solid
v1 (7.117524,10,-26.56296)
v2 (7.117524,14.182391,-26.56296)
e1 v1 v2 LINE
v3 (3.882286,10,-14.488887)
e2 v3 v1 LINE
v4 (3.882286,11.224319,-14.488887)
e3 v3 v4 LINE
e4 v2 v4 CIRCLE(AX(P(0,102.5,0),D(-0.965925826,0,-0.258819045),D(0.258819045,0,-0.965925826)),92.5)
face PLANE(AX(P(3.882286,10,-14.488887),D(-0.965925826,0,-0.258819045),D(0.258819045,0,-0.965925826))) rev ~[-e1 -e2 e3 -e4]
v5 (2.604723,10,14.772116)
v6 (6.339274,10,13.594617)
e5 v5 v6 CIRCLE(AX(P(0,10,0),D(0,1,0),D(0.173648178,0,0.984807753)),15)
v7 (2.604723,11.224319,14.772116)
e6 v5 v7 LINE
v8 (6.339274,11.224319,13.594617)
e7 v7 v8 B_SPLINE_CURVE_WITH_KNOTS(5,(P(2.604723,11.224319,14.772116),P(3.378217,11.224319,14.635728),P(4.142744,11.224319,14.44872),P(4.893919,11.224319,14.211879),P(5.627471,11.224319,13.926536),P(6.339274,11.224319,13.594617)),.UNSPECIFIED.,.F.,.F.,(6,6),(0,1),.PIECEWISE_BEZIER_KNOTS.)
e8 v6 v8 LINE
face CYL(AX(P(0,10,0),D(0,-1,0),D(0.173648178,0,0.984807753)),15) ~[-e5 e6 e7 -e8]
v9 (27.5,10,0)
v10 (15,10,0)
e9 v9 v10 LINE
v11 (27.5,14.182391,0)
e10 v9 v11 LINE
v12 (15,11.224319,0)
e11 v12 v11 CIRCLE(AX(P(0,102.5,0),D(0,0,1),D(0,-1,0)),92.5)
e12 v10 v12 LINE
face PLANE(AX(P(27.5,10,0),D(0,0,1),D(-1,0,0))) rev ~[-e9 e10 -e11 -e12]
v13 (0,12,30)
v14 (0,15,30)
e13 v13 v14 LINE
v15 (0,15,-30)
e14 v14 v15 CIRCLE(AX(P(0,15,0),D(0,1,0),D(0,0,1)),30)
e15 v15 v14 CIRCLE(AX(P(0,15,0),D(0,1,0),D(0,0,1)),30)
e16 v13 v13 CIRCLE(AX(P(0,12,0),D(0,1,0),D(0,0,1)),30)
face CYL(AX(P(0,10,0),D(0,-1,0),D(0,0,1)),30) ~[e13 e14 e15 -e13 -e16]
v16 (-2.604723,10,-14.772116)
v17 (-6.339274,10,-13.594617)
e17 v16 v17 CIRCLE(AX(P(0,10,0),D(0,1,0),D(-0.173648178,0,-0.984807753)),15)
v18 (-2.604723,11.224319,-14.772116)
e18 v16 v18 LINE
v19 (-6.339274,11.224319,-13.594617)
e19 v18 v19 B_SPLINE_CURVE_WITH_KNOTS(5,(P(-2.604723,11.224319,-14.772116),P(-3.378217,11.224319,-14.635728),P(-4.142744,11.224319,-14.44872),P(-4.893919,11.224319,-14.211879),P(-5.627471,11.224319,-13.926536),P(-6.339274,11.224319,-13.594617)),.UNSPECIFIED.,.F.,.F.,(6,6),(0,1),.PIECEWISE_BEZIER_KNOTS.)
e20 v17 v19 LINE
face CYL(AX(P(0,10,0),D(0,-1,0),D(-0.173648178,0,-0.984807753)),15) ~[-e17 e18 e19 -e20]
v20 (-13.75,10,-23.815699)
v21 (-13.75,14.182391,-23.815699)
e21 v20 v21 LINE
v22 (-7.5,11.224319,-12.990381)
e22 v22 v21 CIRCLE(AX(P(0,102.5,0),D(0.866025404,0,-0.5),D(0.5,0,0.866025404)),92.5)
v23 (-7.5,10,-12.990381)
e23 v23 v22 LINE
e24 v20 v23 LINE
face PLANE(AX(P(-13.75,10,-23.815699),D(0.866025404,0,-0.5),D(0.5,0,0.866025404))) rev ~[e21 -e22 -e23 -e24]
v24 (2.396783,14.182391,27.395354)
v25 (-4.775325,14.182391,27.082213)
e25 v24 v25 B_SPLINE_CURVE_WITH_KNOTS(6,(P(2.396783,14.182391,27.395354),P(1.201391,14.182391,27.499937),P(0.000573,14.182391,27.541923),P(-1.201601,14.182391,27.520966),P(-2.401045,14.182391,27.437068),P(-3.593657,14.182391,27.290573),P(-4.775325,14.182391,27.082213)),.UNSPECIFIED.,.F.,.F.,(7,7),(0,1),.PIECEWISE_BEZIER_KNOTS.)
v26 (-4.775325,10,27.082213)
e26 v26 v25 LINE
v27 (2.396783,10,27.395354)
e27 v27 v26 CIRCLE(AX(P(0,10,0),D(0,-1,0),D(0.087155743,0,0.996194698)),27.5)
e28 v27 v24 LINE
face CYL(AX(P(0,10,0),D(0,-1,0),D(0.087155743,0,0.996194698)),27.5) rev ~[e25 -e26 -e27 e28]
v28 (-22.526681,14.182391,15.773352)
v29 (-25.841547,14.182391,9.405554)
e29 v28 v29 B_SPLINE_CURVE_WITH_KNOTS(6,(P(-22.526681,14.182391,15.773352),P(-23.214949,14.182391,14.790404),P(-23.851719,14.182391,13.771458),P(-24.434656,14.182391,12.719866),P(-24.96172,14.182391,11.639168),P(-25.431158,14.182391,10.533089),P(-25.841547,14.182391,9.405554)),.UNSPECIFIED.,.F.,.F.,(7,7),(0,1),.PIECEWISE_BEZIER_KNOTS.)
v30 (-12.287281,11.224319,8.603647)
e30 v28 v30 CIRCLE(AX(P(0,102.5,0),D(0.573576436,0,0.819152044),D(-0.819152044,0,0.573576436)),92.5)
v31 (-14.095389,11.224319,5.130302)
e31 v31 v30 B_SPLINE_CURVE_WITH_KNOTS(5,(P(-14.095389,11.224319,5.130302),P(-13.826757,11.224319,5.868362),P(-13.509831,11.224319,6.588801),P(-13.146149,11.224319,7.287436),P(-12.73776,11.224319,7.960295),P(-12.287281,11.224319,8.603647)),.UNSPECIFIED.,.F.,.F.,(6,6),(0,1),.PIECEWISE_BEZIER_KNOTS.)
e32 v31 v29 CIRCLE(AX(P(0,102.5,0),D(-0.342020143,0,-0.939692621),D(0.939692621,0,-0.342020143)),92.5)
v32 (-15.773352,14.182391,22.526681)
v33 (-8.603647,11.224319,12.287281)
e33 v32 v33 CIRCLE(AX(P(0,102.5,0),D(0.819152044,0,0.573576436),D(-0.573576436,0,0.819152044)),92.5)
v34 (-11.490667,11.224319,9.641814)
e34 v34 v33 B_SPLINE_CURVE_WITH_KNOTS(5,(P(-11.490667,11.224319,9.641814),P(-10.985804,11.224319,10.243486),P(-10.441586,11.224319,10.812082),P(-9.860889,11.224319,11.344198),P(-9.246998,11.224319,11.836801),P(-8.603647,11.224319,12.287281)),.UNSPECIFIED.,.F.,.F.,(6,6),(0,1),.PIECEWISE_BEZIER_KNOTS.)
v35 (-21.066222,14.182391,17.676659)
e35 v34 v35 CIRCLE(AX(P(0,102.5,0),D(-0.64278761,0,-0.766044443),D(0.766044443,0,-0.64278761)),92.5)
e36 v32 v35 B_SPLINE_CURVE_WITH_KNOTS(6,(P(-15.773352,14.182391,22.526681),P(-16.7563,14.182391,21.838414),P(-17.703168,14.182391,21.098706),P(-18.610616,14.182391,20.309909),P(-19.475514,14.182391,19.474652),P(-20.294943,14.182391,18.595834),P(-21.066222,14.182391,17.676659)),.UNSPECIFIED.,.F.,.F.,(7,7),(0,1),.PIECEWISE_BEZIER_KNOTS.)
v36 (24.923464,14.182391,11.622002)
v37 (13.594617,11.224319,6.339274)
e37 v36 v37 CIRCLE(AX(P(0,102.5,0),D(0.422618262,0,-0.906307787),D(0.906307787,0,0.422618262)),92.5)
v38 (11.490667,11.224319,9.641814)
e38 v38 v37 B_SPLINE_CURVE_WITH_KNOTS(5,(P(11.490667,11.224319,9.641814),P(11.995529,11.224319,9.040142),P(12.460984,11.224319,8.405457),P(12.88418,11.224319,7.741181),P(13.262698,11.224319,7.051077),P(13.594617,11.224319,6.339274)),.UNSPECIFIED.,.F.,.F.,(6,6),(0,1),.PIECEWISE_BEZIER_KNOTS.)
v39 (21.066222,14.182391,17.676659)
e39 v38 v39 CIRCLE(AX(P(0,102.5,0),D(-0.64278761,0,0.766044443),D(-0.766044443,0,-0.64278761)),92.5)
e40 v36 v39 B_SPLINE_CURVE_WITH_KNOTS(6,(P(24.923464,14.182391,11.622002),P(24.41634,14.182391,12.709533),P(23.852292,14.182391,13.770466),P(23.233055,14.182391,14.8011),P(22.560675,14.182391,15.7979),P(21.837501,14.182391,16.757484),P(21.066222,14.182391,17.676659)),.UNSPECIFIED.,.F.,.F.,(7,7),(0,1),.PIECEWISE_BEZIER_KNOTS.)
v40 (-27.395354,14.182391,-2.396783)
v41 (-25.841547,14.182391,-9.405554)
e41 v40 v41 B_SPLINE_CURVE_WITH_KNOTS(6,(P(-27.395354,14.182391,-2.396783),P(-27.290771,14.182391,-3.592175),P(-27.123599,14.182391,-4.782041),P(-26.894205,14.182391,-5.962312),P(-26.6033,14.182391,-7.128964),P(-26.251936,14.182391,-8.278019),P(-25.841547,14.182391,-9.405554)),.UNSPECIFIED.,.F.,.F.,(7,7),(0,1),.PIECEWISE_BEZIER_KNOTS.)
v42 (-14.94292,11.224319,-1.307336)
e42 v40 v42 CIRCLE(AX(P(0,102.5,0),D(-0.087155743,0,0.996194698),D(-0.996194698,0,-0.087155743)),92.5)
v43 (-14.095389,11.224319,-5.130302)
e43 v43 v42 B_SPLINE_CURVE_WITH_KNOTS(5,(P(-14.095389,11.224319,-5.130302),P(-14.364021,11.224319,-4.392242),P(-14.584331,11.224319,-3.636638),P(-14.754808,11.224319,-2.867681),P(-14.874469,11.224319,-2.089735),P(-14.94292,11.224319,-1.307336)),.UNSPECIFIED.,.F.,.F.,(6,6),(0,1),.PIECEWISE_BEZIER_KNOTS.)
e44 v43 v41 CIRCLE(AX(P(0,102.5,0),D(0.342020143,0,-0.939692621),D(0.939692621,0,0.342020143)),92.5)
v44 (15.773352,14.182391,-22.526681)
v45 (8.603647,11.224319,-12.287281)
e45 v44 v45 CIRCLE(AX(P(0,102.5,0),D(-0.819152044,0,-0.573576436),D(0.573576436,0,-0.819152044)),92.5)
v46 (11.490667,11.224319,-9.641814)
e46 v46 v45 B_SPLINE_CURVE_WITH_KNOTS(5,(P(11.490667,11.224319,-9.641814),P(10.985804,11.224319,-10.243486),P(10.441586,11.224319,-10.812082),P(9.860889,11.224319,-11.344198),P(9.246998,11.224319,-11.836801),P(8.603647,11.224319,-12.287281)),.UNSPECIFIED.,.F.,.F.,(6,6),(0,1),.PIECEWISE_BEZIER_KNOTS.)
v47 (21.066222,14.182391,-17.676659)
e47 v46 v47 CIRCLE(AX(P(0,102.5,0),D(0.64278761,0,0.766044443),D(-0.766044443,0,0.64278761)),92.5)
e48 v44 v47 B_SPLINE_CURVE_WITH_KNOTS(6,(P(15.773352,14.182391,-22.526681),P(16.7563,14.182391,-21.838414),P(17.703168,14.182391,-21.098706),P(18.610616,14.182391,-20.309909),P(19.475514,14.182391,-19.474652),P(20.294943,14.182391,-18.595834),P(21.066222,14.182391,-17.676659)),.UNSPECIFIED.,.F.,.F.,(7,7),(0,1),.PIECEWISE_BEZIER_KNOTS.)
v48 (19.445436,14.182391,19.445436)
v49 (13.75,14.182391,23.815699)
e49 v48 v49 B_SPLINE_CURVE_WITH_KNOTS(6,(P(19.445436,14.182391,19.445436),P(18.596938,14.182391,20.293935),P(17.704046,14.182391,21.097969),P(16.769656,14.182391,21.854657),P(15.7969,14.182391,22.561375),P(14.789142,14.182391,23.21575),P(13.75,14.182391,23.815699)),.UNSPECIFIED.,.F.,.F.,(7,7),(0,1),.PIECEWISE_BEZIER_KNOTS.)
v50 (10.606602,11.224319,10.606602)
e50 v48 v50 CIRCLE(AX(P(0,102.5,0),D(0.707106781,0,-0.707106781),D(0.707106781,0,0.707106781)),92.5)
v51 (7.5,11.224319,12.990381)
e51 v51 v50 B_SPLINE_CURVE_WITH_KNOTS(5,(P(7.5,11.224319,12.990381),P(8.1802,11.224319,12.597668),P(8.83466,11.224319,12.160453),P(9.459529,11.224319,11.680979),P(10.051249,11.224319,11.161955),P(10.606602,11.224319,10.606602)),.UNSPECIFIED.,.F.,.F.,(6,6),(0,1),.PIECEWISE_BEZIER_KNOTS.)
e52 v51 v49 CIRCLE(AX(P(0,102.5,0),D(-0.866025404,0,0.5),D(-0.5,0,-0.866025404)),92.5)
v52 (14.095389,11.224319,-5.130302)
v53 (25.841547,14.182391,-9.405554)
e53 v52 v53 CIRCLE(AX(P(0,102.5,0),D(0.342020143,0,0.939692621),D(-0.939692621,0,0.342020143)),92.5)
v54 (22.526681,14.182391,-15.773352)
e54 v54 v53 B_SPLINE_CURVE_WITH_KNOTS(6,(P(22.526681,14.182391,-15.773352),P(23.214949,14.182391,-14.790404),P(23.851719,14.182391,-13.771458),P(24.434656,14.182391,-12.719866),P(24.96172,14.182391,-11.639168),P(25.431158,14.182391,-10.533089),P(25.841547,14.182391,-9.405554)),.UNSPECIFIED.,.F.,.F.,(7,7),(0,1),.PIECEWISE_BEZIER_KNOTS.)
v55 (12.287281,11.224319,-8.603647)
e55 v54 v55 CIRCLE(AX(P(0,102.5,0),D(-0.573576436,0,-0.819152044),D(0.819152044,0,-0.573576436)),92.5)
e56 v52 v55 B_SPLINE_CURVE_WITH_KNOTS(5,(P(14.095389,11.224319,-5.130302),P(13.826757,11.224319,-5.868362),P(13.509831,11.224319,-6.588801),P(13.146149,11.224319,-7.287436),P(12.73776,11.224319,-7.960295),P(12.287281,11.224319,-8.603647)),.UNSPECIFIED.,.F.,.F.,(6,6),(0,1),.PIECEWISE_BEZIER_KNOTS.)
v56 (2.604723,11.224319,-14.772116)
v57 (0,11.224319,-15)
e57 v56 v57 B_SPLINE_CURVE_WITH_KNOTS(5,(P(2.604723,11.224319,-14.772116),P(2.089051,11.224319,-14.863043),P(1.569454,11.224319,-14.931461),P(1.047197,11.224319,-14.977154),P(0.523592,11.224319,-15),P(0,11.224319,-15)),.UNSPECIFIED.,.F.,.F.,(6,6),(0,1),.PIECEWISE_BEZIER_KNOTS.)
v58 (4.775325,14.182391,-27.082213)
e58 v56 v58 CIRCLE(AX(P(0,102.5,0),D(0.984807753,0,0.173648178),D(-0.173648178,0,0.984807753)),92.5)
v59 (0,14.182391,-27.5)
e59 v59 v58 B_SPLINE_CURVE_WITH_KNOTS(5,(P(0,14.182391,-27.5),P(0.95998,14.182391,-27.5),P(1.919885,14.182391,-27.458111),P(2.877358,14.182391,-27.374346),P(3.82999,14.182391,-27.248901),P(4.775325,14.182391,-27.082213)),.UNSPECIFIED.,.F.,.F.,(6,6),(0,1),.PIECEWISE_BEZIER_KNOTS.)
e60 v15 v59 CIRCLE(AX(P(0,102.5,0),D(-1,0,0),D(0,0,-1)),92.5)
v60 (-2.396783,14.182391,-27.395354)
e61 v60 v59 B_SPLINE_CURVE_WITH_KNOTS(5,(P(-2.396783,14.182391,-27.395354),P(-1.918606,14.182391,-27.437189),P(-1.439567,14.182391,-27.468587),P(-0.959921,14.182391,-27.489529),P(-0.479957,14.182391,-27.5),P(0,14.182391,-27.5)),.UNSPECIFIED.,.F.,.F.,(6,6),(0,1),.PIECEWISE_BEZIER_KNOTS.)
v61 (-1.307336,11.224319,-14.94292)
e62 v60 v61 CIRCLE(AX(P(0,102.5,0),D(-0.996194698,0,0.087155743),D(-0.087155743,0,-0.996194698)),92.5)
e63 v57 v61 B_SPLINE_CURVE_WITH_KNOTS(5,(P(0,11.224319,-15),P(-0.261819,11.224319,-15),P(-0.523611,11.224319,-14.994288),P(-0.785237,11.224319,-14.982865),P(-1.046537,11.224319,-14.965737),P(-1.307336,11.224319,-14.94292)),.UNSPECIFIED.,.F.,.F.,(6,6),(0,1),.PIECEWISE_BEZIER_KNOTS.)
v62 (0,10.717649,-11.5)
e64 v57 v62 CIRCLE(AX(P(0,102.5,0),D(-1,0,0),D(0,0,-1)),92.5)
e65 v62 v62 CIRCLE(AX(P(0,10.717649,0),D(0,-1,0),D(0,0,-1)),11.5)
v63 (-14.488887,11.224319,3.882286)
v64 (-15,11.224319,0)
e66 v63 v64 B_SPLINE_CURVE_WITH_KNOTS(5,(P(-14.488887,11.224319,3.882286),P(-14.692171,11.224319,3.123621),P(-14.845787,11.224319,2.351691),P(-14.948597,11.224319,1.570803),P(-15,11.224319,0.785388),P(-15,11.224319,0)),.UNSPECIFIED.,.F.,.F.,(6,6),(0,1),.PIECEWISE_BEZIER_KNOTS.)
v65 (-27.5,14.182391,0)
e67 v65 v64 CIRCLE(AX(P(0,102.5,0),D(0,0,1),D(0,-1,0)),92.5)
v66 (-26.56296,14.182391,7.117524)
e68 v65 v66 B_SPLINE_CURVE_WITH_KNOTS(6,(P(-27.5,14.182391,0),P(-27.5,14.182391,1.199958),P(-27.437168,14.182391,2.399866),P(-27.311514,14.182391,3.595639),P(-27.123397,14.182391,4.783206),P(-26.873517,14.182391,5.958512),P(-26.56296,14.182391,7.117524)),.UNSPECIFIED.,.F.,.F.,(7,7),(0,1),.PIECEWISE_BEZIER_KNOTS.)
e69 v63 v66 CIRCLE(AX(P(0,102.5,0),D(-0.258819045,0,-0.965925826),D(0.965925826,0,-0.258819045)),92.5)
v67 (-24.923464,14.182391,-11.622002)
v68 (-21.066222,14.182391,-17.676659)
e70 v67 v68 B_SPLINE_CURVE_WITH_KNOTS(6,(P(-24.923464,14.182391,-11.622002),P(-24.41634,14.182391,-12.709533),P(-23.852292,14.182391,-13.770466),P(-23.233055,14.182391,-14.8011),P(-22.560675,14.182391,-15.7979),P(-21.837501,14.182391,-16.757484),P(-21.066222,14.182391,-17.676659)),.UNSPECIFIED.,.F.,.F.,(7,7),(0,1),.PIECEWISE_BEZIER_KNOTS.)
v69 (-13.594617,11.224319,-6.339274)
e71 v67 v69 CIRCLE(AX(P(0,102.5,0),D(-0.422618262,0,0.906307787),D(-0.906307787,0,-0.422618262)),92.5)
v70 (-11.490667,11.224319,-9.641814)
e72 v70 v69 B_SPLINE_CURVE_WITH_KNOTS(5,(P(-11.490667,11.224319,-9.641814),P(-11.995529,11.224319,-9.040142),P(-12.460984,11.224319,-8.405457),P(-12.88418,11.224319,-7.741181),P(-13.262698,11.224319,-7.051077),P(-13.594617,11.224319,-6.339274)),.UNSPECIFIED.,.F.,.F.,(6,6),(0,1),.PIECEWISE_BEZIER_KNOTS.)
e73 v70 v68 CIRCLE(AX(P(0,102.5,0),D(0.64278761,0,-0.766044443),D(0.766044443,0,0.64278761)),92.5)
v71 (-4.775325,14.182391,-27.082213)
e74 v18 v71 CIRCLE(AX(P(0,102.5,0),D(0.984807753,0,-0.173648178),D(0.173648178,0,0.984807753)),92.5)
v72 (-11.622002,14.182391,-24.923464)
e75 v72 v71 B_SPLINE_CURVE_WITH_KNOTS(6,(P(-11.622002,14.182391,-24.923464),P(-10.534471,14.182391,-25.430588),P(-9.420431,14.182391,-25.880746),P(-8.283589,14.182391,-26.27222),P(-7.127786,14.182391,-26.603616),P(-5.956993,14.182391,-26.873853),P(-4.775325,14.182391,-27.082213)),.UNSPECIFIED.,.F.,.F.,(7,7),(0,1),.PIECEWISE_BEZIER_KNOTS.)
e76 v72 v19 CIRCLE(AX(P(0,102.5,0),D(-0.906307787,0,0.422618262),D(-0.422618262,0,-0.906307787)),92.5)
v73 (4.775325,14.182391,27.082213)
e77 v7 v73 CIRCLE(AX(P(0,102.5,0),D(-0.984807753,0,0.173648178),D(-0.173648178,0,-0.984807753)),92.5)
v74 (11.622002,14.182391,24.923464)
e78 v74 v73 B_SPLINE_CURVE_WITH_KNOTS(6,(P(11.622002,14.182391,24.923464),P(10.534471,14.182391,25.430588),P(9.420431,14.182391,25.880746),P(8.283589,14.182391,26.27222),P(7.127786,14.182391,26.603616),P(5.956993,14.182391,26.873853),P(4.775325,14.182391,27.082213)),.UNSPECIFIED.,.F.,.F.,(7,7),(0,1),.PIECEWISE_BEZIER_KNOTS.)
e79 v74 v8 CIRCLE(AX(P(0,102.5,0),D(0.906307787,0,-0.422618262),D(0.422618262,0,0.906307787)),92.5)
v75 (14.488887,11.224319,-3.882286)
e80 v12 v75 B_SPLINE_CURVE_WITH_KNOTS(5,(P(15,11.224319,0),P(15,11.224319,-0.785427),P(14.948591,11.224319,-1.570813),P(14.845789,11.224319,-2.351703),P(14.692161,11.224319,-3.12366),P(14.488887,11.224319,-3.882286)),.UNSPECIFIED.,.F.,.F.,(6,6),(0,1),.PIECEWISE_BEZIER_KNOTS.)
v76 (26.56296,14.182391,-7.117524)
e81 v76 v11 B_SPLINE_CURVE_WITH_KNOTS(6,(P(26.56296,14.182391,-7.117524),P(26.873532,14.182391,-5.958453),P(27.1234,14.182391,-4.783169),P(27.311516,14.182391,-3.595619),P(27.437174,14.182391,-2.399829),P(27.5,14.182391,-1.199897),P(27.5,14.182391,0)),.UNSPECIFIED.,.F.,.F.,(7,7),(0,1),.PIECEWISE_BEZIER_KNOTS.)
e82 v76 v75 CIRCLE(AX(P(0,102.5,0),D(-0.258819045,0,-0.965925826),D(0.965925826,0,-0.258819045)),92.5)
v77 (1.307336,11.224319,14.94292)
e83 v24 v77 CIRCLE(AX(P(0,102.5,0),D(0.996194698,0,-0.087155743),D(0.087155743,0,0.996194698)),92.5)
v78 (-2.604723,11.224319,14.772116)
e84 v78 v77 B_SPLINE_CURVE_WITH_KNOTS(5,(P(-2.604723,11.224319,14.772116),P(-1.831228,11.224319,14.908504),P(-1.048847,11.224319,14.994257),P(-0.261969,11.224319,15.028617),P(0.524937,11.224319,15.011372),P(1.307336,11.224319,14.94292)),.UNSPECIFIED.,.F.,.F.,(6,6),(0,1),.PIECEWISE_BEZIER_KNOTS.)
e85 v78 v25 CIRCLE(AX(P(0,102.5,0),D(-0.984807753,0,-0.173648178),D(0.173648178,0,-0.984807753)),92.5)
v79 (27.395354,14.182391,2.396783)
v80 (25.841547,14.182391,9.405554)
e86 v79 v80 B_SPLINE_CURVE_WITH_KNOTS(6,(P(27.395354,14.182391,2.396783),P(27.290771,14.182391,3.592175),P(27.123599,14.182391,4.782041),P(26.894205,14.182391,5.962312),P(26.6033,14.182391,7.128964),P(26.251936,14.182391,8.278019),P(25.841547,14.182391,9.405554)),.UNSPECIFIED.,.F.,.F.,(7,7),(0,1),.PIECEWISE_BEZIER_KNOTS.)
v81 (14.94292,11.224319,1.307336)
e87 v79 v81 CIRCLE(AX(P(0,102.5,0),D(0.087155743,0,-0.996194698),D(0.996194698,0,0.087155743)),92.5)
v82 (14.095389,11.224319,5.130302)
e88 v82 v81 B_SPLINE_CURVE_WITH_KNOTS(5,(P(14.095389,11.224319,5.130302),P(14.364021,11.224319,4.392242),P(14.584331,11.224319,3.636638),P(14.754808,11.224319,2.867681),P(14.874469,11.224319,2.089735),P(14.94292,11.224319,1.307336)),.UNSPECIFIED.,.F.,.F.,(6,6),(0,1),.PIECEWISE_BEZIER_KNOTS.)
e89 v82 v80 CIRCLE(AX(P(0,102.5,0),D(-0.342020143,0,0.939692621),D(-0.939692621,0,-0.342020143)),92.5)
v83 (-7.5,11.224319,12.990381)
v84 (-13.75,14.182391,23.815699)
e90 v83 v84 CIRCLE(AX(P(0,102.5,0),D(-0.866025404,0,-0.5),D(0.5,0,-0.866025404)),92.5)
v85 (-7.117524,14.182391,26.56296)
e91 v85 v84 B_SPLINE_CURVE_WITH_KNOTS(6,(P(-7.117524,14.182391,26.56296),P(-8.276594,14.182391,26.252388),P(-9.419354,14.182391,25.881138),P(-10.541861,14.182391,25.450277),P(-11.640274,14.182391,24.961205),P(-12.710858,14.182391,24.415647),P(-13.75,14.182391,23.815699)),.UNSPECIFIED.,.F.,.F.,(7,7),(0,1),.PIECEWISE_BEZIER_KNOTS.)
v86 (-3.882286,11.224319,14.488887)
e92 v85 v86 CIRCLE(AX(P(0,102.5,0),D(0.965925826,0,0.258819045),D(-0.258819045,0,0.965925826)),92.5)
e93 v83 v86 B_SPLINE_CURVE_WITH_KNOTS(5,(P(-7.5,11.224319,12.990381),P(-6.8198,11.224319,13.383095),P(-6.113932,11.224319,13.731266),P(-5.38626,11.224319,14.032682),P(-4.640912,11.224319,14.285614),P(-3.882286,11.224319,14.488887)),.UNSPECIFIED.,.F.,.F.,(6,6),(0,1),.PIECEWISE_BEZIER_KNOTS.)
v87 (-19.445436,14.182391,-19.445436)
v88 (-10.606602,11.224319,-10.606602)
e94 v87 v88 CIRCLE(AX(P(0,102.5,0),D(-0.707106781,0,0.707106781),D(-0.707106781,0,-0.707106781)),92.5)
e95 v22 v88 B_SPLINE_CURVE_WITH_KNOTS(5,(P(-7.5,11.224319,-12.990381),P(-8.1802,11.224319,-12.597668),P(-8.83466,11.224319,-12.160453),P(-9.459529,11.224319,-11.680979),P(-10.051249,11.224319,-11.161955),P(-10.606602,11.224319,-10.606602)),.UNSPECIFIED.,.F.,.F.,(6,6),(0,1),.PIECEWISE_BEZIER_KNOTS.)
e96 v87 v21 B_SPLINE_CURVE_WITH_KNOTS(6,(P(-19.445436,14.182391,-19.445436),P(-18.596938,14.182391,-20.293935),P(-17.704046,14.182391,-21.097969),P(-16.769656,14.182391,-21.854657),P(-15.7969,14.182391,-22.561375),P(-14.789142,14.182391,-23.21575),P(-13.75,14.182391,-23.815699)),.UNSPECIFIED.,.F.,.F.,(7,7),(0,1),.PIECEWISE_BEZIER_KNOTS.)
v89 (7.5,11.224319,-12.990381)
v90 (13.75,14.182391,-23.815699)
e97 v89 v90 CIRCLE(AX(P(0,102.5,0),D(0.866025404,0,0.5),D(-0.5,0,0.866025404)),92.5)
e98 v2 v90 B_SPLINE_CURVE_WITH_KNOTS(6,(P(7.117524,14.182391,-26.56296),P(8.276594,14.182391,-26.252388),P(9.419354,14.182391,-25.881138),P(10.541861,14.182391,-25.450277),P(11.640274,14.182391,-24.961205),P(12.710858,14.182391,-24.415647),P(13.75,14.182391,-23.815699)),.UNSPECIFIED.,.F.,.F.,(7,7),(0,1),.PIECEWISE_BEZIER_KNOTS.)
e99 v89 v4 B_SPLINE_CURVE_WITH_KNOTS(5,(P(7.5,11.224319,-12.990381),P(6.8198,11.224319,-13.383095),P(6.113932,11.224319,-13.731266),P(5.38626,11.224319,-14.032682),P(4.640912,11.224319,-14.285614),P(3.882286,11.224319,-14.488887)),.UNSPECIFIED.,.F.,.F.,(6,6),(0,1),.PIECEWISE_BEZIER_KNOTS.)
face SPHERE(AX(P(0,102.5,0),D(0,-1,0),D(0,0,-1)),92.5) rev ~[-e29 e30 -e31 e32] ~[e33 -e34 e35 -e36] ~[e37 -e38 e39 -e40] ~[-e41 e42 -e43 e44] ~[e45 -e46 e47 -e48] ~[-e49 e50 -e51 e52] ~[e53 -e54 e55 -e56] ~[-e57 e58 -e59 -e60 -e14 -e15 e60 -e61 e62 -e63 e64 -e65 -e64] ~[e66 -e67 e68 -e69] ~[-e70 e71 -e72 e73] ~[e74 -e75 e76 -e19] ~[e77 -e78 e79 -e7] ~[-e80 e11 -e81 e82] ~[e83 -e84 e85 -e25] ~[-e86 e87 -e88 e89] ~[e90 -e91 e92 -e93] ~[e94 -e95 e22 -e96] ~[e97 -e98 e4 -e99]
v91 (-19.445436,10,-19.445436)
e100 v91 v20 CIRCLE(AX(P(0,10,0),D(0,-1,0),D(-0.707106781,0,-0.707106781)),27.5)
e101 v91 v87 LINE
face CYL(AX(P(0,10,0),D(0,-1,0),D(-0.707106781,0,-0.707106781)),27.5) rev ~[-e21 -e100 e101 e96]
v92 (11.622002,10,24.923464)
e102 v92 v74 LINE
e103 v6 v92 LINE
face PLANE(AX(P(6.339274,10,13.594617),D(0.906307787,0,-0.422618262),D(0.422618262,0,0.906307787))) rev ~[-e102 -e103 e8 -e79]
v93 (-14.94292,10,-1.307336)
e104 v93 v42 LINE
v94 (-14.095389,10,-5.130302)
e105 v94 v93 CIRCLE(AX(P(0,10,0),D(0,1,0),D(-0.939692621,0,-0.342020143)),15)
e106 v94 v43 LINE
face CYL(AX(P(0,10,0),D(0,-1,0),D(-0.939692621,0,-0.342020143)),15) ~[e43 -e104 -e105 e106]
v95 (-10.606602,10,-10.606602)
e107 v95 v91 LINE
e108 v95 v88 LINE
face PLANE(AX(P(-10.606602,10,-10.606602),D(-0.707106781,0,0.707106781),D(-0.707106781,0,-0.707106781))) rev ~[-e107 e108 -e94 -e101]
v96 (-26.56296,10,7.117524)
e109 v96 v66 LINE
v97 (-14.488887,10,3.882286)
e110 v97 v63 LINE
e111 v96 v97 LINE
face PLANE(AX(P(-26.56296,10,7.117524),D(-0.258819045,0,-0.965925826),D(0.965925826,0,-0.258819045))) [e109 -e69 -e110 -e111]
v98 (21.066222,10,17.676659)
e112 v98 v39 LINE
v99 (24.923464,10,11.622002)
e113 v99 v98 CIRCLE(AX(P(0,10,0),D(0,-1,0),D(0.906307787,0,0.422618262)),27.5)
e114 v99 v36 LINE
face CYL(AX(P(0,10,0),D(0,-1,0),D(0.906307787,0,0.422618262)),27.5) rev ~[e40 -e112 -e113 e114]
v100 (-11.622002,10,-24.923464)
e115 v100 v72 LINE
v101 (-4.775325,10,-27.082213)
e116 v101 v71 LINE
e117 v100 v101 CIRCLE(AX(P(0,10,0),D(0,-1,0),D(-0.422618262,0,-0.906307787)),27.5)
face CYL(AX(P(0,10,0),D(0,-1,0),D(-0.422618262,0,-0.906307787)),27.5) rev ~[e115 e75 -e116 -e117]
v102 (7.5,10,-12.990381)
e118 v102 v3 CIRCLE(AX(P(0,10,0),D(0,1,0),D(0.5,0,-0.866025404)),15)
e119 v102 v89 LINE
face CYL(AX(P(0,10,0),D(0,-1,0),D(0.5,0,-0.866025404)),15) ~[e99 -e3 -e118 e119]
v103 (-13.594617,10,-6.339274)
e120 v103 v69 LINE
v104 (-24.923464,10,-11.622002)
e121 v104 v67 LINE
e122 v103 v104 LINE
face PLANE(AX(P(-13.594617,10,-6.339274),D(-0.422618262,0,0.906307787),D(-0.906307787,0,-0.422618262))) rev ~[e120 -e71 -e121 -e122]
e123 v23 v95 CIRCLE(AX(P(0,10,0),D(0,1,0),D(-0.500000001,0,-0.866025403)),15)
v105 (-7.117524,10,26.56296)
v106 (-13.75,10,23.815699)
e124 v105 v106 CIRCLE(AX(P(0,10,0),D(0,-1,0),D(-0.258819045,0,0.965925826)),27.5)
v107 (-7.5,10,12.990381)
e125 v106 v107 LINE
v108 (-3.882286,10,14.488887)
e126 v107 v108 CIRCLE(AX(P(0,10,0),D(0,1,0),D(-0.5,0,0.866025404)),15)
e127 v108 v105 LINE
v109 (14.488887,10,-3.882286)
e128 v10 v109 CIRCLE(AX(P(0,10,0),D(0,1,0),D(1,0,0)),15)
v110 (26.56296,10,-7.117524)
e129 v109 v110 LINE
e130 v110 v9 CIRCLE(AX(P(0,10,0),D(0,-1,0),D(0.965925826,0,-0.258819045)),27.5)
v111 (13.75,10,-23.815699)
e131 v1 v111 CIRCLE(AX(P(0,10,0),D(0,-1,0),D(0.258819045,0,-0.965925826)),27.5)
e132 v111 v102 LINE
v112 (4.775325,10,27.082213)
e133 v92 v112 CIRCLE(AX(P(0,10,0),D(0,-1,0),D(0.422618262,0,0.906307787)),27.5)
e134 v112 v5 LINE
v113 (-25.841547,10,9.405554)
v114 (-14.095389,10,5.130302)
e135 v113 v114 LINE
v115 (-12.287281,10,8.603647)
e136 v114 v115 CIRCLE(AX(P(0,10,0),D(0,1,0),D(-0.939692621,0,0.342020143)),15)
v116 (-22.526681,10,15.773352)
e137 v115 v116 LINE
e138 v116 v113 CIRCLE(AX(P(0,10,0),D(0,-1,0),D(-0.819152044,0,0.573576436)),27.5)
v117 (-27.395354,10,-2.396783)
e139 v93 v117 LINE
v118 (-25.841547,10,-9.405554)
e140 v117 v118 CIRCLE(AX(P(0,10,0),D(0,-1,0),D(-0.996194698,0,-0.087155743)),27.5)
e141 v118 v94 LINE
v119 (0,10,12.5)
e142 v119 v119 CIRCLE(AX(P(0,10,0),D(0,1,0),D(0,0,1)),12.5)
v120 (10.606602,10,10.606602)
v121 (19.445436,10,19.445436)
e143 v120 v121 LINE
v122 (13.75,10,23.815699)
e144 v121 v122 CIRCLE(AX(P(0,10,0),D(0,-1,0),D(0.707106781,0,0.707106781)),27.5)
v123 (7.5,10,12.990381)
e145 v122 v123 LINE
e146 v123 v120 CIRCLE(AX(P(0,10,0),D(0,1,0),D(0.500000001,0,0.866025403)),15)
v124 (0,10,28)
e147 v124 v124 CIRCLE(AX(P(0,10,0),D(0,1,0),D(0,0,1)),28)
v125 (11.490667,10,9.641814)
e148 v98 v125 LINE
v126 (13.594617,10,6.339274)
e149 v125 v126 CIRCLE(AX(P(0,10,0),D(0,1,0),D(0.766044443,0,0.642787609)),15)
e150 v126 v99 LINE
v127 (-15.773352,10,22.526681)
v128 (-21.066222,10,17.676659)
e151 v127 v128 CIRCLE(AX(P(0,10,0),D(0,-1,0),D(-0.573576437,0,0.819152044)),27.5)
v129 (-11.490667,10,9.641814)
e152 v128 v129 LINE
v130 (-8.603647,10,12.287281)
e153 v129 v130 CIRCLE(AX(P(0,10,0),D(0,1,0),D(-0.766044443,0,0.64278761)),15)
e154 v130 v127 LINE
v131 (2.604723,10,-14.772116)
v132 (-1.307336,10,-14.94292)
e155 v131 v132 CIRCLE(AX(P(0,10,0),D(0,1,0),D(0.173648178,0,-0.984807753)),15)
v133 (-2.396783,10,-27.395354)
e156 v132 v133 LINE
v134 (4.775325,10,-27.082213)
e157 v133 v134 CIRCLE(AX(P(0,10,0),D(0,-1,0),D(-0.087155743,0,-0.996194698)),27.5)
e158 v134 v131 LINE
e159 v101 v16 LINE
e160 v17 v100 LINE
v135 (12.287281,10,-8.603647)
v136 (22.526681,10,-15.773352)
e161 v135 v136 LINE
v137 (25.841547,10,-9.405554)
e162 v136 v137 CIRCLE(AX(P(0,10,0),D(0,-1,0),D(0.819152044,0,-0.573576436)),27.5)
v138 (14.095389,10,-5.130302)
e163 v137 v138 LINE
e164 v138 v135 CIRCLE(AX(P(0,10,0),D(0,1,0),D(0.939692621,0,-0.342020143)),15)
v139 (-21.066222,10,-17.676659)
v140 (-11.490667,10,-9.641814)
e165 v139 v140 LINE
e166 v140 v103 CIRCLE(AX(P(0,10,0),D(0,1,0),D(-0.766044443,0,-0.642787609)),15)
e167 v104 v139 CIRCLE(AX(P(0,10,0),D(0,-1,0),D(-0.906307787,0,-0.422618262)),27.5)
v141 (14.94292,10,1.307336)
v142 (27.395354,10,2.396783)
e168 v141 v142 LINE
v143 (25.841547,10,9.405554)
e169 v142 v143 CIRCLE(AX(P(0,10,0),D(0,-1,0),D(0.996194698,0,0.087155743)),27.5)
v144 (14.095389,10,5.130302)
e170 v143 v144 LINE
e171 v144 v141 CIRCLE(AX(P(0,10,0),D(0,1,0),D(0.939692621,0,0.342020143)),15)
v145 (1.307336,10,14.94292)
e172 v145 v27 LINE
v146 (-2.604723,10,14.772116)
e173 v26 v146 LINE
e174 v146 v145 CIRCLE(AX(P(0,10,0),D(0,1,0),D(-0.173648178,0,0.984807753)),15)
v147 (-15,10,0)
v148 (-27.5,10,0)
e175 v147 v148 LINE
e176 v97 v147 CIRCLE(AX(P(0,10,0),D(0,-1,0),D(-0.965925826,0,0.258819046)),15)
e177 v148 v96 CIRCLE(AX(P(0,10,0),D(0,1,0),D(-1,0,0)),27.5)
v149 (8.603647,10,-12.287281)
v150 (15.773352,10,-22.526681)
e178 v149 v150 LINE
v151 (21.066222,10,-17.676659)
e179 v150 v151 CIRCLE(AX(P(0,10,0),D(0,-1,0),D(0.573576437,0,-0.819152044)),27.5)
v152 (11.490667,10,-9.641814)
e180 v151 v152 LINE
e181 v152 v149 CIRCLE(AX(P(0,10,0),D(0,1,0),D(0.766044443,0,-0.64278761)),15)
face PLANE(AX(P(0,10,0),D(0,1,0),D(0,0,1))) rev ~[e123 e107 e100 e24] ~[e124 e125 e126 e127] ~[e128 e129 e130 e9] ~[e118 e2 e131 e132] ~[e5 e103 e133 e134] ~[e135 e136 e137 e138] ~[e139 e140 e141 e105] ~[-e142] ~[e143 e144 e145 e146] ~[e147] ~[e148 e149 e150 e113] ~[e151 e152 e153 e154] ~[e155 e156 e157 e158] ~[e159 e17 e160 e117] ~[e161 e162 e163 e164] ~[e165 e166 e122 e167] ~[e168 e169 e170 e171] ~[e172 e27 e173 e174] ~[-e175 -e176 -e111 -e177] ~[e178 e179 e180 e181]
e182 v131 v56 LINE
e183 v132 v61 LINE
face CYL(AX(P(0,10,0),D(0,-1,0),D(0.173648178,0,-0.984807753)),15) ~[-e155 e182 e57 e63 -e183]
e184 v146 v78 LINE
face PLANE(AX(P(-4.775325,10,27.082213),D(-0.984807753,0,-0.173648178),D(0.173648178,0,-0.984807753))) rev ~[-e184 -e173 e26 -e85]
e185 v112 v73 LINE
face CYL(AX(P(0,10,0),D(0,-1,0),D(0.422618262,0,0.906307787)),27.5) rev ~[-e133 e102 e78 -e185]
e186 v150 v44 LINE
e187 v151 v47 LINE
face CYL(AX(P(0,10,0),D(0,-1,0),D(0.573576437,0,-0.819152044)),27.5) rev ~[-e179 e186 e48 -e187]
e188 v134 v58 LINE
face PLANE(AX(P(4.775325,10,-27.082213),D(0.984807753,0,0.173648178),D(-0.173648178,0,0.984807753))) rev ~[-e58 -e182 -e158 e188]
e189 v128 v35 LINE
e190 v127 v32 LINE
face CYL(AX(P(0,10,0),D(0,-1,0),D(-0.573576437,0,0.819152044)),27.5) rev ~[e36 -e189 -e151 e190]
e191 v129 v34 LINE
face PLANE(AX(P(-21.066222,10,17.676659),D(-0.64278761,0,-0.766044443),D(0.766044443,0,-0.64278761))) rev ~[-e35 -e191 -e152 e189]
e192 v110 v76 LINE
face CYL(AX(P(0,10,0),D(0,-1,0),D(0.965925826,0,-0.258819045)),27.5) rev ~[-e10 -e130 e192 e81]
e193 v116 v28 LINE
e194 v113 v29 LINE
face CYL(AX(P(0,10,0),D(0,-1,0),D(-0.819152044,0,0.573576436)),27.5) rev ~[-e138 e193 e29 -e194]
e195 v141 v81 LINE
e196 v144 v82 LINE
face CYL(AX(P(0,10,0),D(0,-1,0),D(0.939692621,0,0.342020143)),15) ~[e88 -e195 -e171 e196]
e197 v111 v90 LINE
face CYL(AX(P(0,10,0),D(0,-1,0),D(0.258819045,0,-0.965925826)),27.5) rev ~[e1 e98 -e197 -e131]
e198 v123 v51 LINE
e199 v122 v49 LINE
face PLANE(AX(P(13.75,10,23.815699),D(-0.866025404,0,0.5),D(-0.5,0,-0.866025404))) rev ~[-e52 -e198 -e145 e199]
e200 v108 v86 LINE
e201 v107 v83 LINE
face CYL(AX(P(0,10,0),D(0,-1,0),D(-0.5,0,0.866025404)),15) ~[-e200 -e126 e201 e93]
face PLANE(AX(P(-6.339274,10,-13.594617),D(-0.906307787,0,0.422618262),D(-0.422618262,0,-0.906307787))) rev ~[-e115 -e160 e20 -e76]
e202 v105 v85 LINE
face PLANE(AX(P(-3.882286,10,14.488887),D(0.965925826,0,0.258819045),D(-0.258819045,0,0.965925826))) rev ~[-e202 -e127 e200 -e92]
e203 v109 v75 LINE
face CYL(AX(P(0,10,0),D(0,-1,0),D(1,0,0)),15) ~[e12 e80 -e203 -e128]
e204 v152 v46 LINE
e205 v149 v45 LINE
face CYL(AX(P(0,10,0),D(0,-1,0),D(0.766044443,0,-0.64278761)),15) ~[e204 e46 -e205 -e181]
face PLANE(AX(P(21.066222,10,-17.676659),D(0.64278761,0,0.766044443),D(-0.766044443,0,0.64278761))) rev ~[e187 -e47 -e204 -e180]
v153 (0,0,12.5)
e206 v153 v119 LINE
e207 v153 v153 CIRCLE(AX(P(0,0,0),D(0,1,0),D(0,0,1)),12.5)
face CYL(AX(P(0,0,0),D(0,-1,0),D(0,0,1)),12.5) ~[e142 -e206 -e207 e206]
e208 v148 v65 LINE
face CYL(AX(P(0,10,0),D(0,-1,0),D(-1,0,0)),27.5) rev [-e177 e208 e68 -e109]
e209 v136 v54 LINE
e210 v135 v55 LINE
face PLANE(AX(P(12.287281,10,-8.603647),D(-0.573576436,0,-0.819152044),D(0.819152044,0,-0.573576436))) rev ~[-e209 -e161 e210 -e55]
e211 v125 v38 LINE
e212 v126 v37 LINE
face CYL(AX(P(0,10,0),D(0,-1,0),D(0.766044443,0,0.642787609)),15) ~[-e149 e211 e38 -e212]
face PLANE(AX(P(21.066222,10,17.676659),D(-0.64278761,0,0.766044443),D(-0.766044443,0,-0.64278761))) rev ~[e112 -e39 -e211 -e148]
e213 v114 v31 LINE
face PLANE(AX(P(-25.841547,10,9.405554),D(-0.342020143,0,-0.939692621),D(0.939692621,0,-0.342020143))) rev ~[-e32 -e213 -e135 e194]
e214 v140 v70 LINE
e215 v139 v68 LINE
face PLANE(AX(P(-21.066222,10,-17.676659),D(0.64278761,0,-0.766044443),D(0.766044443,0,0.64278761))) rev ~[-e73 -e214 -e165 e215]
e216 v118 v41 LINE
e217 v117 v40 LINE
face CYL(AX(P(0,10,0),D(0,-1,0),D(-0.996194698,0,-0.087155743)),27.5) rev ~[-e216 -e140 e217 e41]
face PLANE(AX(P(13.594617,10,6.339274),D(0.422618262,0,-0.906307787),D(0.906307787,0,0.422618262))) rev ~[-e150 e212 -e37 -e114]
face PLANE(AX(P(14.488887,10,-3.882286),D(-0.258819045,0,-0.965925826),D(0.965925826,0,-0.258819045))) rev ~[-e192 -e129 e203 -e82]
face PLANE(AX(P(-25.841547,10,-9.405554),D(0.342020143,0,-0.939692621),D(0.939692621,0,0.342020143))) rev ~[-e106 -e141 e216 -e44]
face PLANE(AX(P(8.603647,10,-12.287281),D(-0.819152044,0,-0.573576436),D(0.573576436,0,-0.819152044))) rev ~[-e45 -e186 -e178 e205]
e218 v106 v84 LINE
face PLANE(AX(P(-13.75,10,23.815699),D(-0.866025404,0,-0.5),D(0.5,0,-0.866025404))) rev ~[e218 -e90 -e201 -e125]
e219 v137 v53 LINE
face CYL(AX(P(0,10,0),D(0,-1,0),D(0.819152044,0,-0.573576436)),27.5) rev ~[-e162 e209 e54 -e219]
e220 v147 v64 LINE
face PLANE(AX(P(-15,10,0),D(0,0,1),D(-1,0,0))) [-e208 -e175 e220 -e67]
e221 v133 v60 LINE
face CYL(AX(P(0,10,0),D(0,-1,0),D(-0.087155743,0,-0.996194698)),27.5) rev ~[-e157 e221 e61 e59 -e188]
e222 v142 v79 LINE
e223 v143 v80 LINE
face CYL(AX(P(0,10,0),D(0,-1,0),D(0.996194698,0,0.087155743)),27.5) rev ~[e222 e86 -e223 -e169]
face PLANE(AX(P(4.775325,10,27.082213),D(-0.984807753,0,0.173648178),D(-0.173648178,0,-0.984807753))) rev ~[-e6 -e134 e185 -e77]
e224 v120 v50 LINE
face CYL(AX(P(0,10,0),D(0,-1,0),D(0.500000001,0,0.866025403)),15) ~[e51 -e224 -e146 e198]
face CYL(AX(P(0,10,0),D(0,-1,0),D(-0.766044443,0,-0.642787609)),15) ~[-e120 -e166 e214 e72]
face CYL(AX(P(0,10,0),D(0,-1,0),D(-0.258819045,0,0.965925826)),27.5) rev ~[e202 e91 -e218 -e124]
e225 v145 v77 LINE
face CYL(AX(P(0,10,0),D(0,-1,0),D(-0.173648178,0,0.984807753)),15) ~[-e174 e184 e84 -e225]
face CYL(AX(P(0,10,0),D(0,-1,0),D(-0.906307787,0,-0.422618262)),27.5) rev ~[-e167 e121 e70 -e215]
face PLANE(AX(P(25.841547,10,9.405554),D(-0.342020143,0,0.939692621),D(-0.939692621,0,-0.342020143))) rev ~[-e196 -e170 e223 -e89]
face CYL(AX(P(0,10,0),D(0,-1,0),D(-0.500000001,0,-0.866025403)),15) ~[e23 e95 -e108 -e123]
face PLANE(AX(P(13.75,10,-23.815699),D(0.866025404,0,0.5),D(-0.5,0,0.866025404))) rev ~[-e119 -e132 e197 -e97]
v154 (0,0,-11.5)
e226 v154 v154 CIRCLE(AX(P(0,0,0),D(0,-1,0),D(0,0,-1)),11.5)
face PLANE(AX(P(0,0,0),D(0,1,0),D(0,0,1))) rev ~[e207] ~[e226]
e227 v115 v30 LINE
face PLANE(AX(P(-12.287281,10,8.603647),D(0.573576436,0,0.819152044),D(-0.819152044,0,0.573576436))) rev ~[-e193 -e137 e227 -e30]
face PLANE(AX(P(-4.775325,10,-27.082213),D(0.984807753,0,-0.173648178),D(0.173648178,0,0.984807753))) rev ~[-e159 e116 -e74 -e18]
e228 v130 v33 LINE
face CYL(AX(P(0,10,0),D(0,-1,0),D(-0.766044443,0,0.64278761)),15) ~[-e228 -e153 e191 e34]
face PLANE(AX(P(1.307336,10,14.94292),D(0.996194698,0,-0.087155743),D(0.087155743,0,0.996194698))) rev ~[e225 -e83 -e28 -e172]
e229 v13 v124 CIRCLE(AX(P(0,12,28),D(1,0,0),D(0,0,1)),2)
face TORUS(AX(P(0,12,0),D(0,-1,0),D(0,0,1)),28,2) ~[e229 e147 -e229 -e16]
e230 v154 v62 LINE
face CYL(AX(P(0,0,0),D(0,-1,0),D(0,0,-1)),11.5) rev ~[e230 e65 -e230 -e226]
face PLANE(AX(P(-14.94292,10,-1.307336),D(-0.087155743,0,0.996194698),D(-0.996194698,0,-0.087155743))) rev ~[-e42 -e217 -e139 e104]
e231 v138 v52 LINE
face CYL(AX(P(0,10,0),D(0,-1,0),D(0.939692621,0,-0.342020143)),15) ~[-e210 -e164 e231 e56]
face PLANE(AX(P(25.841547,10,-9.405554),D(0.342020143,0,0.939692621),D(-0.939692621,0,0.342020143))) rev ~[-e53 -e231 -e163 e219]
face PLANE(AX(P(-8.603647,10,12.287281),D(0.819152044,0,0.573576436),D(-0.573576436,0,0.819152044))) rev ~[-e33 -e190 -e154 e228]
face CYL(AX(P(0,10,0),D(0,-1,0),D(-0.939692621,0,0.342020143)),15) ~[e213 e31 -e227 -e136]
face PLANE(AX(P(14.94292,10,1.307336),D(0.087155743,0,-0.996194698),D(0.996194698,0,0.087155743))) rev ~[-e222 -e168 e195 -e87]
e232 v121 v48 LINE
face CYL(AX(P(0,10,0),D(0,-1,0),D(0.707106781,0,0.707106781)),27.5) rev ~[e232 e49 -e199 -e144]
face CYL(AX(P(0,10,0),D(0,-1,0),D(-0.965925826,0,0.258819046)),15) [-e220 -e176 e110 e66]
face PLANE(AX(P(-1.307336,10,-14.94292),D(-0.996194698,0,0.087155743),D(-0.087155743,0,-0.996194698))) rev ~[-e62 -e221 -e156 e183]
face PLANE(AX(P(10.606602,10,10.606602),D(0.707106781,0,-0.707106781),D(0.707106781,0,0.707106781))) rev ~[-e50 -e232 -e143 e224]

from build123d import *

# Parameters (mm, degrees)
SKETCH1_R           = 12.5
BOSS_EXTRUDE1_DEPTH = 10
SKETCH3_R           = 30
BOSS_EXTRUDE2_DEPTH = 5
DOME1_FACE_RADIUS   = 30
DOME1_HEIGHT        = 5
SKETCH8_R           = 11.5
CUT_EXTRUDE3_DEPTH  = 46
CUT_EXTRUDE4_DEPTH  = 44.588989435
FILLET2_R           = 2


with BuildPart() as part:
    # Sketch1 → Boss-Extrude1 (new body)
    with BuildSketch(Plane(origin=(0, 0, 0), x_dir=(1, 0, 0), z_dir=(0, 1, 0))):
        with Locations(Location((0, 0, 0), (0, 0, 270))):
            Circle(SKETCH1_R)
    extrude(amount=BOSS_EXTRUDE1_DEPTH)

    # Sketch3 → Boss-Extrude2 (add)
    with BuildSketch(Plane(origin=(0, 10, 0), x_dir=(1, 0, 0), z_dir=(0, 1, 0))):
        with Locations(Location((0, 0, 0), (0, 0, 270))):
            Circle(SKETCH3_R)
    extrude(amount=BOSS_EXTRUDE2_DEPTH)

    # Dome1: a dome of height H over a round flat face of radius A is a cap of a sphere of radius (A * A + H * H) / (2 * H)
    dome1_r = (DOME1_FACE_RADIUS * DOME1_FACE_RADIUS + DOME1_HEIGHT * DOME1_HEIGHT) / (2 * DOME1_HEIGHT)
    dome1_base = Plane((0, 15, 0), z_dir=(0, -1, 0))
    with Locations(dome1_base.offset(DOME1_HEIGHT - dome1_r)):
        dome1_ball = Sphere(dome1_r, mode=Mode.PRIVATE)
    add(split(dome1_ball, bisect_by=dome1_base, keep=Keep.TOP, mode=Mode.PRIVATE), mode=Mode.SUBTRACT)

    # Sketch8 → Cut-Extrude3 (cut, through all)
    with BuildSketch(Plane.XZ):
        with Locations(Location((0, 0, 0), (0, 0, 270))):
            Circle(SKETCH8_R)
    extrude(amount=-CUT_EXTRUDE3_DEPTH, mode=Mode.SUBTRACT)

    # Sketch9 → Cut-Extrude4 (cut, through all)
    with BuildSketch(Plane.XZ.offset(-10)):
        with BuildLine():
            Line((-15, 0), (-27.5, 0))
            ThreePointArc((-27.5, 0), (-27.264733688, 3.589470286), (-26.562960223, 7.11752374))
            Line((-26.562960223, 7.11752374), (-14.488887394, 3.882285677))
            ThreePointArc((-14.488887394, 3.882285677), (-14.871672921, 1.957892883), (-15, 0))
        make_face()
        with BuildLine():
            Line((-12.287280664, 8.603646545), (-22.526681218, 15.773352))
            ThreePointArc((-22.526681218, 15.773352), (-24.392797912, 12.698086864), (-25.841547072, 9.405553941))
            Line((-25.841547072, 9.405553941), (-14.095389312, 5.13030215))
            ThreePointArc((-14.095389312, 5.13030215), (-13.305162498, 6.926229199), (-12.287280664, 8.603646545))
        make_face()
        with BuildLine():
            Line((-8.603646545, 12.287280664), (-15.773352, 22.526681218))
            ThreePointArc((-15.773352, 22.526681218), (-18.578730709, 20.275126762), (-21.066222186, 17.676659266))
            Line((-21.066222186, 17.676659266), (-11.490666647, 9.641814145))
            ThreePointArc((-11.490666647, 9.641814145), (-10.133853114, 11.059160052), (-8.603646545, 12.287280664))
        make_face()
        with BuildLine():
            Line((-3.882285677, 14.488887394), (-7.11752374, 26.562960223))
            ThreePointArc((-7.11752374, 26.562960223), (-10.52379439, 25.406687144), (-13.75, 23.815698604))
            Line((-13.75, 23.815698604), (-7.5, 12.990381057))
            ThreePointArc((-7.5, 12.990381057), (-5.740251485, 13.858192988), (-3.882285677, 14.488887394))
        make_face()
        with BuildLine():
            Line((1.307336141, 14.942920471), (2.396782926, 27.395354198))
            ThreePointArc((2.396782926, 27.395354198), (-1.199533153, 27.473826094), (-4.775324886, 27.082213208))
            Line((-4.775324886, 27.082213208), (-2.604722665, 14.772116295))
            ThreePointArc((-2.604722665, 14.772116295), (-0.65429081, 14.985723324), (1.307336141, 14.942920471))
        make_face()
        with BuildLine():
            Line((6.339273926, 13.594616806), (11.622002198, 24.923464144))
            ThreePointArc((11.622002198, 24.923464144), (8.269409486, 26.227216146), (4.775324886, 27.082213208))
            Line((4.775324886, 27.082213208), (2.604722665, 14.772116295))
            ThreePointArc((2.604722665, 14.772116295), (4.510586993, 14.305754261), (6.339273926, 13.594616806))
        make_face()
        with BuildLine():
            Line((10.606601718, 10.606601718), (19.445436483, 19.445436483))
            ThreePointArc((19.445436483, 19.445436483), (16.740939298, 21.817216858), (13.75, 23.815698604))
            Line((13.75, 23.815698604), (7.5, 12.990381057))
            ThreePointArc((7.5, 12.990381057), (9.131421435, 11.900300104), (10.606601718, 10.606601718))
        make_face()
        with BuildLine():
            Line((13.594616806, 6.339273926), (24.923464144, 11.622002198))
            ThreePointArc((24.923464144, 11.622002198), (23.19326476, 14.77573923), (21.066222186, 17.676659266))
            Line((21.066222186, 17.676659266), (11.490666647, 9.641814145))
            ThreePointArc((11.490666647, 9.641814145), (12.650871687, 8.059494125), (13.594616806, 6.339273926))
        make_face()
        with BuildLine():
            Line((14.942920471, 1.307336141), (27.395354198, 2.396782926))
            ThreePointArc((27.395354198, 2.396782926), (26.848140196, 5.952089383), (25.841547072, 9.405553941))
            Line((25.841547072, 9.405553941), (14.095389312, 5.13030215))
            ThreePointArc((14.095389312, 5.13030215), (14.644440107, 3.246594209), (14.942920471, 1.307336141))
        make_face()
        with BuildLine():
            Line((14.488887394, -3.882285677), (26.562960223, -7.11752374))
            ThreePointArc((26.562960223, -7.11752374), (27.264733688, -3.589470286), (27.5, 0))
            Line((27.5, 0), (15, 0))
            ThreePointArc((15, 0), (14.871672921, -1.957892883), (14.488887394, -3.882285677))
        make_face()
        with BuildLine():
            Line((12.287280664, -8.603646545), (22.526681218, -15.773352))
            ThreePointArc((22.526681218, -15.773352), (24.392797912, -12.698086864), (25.841547072, -9.405553941))
            Line((25.841547072, -9.405553941), (14.095389312, -5.13030215))
            ThreePointArc((14.095389312, -5.13030215), (13.305162498, -6.926229199), (12.287280664, -8.603646545))
        make_face()
        with BuildLine():
            Line((8.603646545, -12.287280664), (15.773352, -22.526681218))
            ThreePointArc((15.773352, -22.526681218), (18.578730709, -20.275126762), (21.066222186, -17.676659266))
            Line((21.066222186, -17.676659266), (11.490666647, -9.641814145))
            ThreePointArc((11.490666647, -9.641814145), (10.133853114, -11.059160052), (8.603646545, -12.287280664))
        make_face()
        with BuildLine():
            Line((3.882285677, -14.488887394), (7.11752374, -26.562960223))
            ThreePointArc((7.11752374, -26.562960223), (10.52379439, -25.406687144), (13.75, -23.815698604))
            Line((13.75, -23.815698604), (7.5, -12.990381057))
            ThreePointArc((7.5, -12.990381057), (5.740251485, -13.858192988), (3.882285677, -14.488887394))
        make_face()
        with BuildLine():
            Line((-1.307336141, -14.942920471), (-2.396782926, -27.395354198))
            ThreePointArc((-2.396782926, -27.395354198), (1.199533153, -27.473826094), (4.775324886, -27.082213208))
            Line((4.775324886, -27.082213208), (2.604722665, -14.772116295))
            ThreePointArc((2.604722665, -14.772116295), (0.65429081, -14.985723324), (-1.307336141, -14.942920471))
        make_face()
        with BuildLine():
            Line((-6.339273926, -13.594616806), (-11.622002198, -24.923464144))
            ThreePointArc((-11.622002198, -24.923464144), (-8.269409486, -26.227216146), (-4.775324886, -27.082213208))
            Line((-4.775324886, -27.082213208), (-2.604722665, -14.772116295))
            ThreePointArc((-2.604722665, -14.772116295), (-4.510586993, -14.305754261), (-6.339273926, -13.594616806))
        make_face()
        with BuildLine():
            Line((-10.606601718, -10.606601718), (-19.445436483, -19.445436483))
            ThreePointArc((-19.445436483, -19.445436483), (-16.740939298, -21.817216858), (-13.75, -23.815698604))
            Line((-13.75, -23.815698604), (-7.5, -12.990381057))
            ThreePointArc((-7.5, -12.990381057), (-9.131421435, -11.900300104), (-10.606601718, -10.606601718))
        make_face()
        with BuildLine():
            Line((-13.594616806, -6.339273926), (-24.923464144, -11.622002198))
            ThreePointArc((-24.923464144, -11.622002198), (-23.19326476, -14.77573923), (-21.066222186, -17.676659266))
            Line((-21.066222186, -17.676659266), (-11.490666647, -9.641814145))
            ThreePointArc((-11.490666647, -9.641814145), (-12.650871687, -8.059494125), (-13.594616806, -6.339273926))
        make_face()
        with BuildLine():
            Line((-14.942920471, -1.307336141), (-27.395354198, -2.396782926))
            ThreePointArc((-27.395354198, -2.396782926), (-26.848140196, -5.952089383), (-25.841547072, -9.405553941))
            Line((-25.841547072, -9.405553941), (-14.095389312, -5.13030215))
            ThreePointArc((-14.095389312, -5.13030215), (-14.644440107, -3.246594209), (-14.942920471, -1.307336141))
        make_face()
    extrude(amount=-CUT_EXTRUDE4_DEPTH, mode=Mode.SUBTRACT)

    # Fillet2
    fillet2_edges = [part.edges().sort_by_distance(p)[0] for p in [
        (0, 10, -30),
    ]]
    fillet(fillet2_edges, radius=FILLET2_R)


solid = part.part
